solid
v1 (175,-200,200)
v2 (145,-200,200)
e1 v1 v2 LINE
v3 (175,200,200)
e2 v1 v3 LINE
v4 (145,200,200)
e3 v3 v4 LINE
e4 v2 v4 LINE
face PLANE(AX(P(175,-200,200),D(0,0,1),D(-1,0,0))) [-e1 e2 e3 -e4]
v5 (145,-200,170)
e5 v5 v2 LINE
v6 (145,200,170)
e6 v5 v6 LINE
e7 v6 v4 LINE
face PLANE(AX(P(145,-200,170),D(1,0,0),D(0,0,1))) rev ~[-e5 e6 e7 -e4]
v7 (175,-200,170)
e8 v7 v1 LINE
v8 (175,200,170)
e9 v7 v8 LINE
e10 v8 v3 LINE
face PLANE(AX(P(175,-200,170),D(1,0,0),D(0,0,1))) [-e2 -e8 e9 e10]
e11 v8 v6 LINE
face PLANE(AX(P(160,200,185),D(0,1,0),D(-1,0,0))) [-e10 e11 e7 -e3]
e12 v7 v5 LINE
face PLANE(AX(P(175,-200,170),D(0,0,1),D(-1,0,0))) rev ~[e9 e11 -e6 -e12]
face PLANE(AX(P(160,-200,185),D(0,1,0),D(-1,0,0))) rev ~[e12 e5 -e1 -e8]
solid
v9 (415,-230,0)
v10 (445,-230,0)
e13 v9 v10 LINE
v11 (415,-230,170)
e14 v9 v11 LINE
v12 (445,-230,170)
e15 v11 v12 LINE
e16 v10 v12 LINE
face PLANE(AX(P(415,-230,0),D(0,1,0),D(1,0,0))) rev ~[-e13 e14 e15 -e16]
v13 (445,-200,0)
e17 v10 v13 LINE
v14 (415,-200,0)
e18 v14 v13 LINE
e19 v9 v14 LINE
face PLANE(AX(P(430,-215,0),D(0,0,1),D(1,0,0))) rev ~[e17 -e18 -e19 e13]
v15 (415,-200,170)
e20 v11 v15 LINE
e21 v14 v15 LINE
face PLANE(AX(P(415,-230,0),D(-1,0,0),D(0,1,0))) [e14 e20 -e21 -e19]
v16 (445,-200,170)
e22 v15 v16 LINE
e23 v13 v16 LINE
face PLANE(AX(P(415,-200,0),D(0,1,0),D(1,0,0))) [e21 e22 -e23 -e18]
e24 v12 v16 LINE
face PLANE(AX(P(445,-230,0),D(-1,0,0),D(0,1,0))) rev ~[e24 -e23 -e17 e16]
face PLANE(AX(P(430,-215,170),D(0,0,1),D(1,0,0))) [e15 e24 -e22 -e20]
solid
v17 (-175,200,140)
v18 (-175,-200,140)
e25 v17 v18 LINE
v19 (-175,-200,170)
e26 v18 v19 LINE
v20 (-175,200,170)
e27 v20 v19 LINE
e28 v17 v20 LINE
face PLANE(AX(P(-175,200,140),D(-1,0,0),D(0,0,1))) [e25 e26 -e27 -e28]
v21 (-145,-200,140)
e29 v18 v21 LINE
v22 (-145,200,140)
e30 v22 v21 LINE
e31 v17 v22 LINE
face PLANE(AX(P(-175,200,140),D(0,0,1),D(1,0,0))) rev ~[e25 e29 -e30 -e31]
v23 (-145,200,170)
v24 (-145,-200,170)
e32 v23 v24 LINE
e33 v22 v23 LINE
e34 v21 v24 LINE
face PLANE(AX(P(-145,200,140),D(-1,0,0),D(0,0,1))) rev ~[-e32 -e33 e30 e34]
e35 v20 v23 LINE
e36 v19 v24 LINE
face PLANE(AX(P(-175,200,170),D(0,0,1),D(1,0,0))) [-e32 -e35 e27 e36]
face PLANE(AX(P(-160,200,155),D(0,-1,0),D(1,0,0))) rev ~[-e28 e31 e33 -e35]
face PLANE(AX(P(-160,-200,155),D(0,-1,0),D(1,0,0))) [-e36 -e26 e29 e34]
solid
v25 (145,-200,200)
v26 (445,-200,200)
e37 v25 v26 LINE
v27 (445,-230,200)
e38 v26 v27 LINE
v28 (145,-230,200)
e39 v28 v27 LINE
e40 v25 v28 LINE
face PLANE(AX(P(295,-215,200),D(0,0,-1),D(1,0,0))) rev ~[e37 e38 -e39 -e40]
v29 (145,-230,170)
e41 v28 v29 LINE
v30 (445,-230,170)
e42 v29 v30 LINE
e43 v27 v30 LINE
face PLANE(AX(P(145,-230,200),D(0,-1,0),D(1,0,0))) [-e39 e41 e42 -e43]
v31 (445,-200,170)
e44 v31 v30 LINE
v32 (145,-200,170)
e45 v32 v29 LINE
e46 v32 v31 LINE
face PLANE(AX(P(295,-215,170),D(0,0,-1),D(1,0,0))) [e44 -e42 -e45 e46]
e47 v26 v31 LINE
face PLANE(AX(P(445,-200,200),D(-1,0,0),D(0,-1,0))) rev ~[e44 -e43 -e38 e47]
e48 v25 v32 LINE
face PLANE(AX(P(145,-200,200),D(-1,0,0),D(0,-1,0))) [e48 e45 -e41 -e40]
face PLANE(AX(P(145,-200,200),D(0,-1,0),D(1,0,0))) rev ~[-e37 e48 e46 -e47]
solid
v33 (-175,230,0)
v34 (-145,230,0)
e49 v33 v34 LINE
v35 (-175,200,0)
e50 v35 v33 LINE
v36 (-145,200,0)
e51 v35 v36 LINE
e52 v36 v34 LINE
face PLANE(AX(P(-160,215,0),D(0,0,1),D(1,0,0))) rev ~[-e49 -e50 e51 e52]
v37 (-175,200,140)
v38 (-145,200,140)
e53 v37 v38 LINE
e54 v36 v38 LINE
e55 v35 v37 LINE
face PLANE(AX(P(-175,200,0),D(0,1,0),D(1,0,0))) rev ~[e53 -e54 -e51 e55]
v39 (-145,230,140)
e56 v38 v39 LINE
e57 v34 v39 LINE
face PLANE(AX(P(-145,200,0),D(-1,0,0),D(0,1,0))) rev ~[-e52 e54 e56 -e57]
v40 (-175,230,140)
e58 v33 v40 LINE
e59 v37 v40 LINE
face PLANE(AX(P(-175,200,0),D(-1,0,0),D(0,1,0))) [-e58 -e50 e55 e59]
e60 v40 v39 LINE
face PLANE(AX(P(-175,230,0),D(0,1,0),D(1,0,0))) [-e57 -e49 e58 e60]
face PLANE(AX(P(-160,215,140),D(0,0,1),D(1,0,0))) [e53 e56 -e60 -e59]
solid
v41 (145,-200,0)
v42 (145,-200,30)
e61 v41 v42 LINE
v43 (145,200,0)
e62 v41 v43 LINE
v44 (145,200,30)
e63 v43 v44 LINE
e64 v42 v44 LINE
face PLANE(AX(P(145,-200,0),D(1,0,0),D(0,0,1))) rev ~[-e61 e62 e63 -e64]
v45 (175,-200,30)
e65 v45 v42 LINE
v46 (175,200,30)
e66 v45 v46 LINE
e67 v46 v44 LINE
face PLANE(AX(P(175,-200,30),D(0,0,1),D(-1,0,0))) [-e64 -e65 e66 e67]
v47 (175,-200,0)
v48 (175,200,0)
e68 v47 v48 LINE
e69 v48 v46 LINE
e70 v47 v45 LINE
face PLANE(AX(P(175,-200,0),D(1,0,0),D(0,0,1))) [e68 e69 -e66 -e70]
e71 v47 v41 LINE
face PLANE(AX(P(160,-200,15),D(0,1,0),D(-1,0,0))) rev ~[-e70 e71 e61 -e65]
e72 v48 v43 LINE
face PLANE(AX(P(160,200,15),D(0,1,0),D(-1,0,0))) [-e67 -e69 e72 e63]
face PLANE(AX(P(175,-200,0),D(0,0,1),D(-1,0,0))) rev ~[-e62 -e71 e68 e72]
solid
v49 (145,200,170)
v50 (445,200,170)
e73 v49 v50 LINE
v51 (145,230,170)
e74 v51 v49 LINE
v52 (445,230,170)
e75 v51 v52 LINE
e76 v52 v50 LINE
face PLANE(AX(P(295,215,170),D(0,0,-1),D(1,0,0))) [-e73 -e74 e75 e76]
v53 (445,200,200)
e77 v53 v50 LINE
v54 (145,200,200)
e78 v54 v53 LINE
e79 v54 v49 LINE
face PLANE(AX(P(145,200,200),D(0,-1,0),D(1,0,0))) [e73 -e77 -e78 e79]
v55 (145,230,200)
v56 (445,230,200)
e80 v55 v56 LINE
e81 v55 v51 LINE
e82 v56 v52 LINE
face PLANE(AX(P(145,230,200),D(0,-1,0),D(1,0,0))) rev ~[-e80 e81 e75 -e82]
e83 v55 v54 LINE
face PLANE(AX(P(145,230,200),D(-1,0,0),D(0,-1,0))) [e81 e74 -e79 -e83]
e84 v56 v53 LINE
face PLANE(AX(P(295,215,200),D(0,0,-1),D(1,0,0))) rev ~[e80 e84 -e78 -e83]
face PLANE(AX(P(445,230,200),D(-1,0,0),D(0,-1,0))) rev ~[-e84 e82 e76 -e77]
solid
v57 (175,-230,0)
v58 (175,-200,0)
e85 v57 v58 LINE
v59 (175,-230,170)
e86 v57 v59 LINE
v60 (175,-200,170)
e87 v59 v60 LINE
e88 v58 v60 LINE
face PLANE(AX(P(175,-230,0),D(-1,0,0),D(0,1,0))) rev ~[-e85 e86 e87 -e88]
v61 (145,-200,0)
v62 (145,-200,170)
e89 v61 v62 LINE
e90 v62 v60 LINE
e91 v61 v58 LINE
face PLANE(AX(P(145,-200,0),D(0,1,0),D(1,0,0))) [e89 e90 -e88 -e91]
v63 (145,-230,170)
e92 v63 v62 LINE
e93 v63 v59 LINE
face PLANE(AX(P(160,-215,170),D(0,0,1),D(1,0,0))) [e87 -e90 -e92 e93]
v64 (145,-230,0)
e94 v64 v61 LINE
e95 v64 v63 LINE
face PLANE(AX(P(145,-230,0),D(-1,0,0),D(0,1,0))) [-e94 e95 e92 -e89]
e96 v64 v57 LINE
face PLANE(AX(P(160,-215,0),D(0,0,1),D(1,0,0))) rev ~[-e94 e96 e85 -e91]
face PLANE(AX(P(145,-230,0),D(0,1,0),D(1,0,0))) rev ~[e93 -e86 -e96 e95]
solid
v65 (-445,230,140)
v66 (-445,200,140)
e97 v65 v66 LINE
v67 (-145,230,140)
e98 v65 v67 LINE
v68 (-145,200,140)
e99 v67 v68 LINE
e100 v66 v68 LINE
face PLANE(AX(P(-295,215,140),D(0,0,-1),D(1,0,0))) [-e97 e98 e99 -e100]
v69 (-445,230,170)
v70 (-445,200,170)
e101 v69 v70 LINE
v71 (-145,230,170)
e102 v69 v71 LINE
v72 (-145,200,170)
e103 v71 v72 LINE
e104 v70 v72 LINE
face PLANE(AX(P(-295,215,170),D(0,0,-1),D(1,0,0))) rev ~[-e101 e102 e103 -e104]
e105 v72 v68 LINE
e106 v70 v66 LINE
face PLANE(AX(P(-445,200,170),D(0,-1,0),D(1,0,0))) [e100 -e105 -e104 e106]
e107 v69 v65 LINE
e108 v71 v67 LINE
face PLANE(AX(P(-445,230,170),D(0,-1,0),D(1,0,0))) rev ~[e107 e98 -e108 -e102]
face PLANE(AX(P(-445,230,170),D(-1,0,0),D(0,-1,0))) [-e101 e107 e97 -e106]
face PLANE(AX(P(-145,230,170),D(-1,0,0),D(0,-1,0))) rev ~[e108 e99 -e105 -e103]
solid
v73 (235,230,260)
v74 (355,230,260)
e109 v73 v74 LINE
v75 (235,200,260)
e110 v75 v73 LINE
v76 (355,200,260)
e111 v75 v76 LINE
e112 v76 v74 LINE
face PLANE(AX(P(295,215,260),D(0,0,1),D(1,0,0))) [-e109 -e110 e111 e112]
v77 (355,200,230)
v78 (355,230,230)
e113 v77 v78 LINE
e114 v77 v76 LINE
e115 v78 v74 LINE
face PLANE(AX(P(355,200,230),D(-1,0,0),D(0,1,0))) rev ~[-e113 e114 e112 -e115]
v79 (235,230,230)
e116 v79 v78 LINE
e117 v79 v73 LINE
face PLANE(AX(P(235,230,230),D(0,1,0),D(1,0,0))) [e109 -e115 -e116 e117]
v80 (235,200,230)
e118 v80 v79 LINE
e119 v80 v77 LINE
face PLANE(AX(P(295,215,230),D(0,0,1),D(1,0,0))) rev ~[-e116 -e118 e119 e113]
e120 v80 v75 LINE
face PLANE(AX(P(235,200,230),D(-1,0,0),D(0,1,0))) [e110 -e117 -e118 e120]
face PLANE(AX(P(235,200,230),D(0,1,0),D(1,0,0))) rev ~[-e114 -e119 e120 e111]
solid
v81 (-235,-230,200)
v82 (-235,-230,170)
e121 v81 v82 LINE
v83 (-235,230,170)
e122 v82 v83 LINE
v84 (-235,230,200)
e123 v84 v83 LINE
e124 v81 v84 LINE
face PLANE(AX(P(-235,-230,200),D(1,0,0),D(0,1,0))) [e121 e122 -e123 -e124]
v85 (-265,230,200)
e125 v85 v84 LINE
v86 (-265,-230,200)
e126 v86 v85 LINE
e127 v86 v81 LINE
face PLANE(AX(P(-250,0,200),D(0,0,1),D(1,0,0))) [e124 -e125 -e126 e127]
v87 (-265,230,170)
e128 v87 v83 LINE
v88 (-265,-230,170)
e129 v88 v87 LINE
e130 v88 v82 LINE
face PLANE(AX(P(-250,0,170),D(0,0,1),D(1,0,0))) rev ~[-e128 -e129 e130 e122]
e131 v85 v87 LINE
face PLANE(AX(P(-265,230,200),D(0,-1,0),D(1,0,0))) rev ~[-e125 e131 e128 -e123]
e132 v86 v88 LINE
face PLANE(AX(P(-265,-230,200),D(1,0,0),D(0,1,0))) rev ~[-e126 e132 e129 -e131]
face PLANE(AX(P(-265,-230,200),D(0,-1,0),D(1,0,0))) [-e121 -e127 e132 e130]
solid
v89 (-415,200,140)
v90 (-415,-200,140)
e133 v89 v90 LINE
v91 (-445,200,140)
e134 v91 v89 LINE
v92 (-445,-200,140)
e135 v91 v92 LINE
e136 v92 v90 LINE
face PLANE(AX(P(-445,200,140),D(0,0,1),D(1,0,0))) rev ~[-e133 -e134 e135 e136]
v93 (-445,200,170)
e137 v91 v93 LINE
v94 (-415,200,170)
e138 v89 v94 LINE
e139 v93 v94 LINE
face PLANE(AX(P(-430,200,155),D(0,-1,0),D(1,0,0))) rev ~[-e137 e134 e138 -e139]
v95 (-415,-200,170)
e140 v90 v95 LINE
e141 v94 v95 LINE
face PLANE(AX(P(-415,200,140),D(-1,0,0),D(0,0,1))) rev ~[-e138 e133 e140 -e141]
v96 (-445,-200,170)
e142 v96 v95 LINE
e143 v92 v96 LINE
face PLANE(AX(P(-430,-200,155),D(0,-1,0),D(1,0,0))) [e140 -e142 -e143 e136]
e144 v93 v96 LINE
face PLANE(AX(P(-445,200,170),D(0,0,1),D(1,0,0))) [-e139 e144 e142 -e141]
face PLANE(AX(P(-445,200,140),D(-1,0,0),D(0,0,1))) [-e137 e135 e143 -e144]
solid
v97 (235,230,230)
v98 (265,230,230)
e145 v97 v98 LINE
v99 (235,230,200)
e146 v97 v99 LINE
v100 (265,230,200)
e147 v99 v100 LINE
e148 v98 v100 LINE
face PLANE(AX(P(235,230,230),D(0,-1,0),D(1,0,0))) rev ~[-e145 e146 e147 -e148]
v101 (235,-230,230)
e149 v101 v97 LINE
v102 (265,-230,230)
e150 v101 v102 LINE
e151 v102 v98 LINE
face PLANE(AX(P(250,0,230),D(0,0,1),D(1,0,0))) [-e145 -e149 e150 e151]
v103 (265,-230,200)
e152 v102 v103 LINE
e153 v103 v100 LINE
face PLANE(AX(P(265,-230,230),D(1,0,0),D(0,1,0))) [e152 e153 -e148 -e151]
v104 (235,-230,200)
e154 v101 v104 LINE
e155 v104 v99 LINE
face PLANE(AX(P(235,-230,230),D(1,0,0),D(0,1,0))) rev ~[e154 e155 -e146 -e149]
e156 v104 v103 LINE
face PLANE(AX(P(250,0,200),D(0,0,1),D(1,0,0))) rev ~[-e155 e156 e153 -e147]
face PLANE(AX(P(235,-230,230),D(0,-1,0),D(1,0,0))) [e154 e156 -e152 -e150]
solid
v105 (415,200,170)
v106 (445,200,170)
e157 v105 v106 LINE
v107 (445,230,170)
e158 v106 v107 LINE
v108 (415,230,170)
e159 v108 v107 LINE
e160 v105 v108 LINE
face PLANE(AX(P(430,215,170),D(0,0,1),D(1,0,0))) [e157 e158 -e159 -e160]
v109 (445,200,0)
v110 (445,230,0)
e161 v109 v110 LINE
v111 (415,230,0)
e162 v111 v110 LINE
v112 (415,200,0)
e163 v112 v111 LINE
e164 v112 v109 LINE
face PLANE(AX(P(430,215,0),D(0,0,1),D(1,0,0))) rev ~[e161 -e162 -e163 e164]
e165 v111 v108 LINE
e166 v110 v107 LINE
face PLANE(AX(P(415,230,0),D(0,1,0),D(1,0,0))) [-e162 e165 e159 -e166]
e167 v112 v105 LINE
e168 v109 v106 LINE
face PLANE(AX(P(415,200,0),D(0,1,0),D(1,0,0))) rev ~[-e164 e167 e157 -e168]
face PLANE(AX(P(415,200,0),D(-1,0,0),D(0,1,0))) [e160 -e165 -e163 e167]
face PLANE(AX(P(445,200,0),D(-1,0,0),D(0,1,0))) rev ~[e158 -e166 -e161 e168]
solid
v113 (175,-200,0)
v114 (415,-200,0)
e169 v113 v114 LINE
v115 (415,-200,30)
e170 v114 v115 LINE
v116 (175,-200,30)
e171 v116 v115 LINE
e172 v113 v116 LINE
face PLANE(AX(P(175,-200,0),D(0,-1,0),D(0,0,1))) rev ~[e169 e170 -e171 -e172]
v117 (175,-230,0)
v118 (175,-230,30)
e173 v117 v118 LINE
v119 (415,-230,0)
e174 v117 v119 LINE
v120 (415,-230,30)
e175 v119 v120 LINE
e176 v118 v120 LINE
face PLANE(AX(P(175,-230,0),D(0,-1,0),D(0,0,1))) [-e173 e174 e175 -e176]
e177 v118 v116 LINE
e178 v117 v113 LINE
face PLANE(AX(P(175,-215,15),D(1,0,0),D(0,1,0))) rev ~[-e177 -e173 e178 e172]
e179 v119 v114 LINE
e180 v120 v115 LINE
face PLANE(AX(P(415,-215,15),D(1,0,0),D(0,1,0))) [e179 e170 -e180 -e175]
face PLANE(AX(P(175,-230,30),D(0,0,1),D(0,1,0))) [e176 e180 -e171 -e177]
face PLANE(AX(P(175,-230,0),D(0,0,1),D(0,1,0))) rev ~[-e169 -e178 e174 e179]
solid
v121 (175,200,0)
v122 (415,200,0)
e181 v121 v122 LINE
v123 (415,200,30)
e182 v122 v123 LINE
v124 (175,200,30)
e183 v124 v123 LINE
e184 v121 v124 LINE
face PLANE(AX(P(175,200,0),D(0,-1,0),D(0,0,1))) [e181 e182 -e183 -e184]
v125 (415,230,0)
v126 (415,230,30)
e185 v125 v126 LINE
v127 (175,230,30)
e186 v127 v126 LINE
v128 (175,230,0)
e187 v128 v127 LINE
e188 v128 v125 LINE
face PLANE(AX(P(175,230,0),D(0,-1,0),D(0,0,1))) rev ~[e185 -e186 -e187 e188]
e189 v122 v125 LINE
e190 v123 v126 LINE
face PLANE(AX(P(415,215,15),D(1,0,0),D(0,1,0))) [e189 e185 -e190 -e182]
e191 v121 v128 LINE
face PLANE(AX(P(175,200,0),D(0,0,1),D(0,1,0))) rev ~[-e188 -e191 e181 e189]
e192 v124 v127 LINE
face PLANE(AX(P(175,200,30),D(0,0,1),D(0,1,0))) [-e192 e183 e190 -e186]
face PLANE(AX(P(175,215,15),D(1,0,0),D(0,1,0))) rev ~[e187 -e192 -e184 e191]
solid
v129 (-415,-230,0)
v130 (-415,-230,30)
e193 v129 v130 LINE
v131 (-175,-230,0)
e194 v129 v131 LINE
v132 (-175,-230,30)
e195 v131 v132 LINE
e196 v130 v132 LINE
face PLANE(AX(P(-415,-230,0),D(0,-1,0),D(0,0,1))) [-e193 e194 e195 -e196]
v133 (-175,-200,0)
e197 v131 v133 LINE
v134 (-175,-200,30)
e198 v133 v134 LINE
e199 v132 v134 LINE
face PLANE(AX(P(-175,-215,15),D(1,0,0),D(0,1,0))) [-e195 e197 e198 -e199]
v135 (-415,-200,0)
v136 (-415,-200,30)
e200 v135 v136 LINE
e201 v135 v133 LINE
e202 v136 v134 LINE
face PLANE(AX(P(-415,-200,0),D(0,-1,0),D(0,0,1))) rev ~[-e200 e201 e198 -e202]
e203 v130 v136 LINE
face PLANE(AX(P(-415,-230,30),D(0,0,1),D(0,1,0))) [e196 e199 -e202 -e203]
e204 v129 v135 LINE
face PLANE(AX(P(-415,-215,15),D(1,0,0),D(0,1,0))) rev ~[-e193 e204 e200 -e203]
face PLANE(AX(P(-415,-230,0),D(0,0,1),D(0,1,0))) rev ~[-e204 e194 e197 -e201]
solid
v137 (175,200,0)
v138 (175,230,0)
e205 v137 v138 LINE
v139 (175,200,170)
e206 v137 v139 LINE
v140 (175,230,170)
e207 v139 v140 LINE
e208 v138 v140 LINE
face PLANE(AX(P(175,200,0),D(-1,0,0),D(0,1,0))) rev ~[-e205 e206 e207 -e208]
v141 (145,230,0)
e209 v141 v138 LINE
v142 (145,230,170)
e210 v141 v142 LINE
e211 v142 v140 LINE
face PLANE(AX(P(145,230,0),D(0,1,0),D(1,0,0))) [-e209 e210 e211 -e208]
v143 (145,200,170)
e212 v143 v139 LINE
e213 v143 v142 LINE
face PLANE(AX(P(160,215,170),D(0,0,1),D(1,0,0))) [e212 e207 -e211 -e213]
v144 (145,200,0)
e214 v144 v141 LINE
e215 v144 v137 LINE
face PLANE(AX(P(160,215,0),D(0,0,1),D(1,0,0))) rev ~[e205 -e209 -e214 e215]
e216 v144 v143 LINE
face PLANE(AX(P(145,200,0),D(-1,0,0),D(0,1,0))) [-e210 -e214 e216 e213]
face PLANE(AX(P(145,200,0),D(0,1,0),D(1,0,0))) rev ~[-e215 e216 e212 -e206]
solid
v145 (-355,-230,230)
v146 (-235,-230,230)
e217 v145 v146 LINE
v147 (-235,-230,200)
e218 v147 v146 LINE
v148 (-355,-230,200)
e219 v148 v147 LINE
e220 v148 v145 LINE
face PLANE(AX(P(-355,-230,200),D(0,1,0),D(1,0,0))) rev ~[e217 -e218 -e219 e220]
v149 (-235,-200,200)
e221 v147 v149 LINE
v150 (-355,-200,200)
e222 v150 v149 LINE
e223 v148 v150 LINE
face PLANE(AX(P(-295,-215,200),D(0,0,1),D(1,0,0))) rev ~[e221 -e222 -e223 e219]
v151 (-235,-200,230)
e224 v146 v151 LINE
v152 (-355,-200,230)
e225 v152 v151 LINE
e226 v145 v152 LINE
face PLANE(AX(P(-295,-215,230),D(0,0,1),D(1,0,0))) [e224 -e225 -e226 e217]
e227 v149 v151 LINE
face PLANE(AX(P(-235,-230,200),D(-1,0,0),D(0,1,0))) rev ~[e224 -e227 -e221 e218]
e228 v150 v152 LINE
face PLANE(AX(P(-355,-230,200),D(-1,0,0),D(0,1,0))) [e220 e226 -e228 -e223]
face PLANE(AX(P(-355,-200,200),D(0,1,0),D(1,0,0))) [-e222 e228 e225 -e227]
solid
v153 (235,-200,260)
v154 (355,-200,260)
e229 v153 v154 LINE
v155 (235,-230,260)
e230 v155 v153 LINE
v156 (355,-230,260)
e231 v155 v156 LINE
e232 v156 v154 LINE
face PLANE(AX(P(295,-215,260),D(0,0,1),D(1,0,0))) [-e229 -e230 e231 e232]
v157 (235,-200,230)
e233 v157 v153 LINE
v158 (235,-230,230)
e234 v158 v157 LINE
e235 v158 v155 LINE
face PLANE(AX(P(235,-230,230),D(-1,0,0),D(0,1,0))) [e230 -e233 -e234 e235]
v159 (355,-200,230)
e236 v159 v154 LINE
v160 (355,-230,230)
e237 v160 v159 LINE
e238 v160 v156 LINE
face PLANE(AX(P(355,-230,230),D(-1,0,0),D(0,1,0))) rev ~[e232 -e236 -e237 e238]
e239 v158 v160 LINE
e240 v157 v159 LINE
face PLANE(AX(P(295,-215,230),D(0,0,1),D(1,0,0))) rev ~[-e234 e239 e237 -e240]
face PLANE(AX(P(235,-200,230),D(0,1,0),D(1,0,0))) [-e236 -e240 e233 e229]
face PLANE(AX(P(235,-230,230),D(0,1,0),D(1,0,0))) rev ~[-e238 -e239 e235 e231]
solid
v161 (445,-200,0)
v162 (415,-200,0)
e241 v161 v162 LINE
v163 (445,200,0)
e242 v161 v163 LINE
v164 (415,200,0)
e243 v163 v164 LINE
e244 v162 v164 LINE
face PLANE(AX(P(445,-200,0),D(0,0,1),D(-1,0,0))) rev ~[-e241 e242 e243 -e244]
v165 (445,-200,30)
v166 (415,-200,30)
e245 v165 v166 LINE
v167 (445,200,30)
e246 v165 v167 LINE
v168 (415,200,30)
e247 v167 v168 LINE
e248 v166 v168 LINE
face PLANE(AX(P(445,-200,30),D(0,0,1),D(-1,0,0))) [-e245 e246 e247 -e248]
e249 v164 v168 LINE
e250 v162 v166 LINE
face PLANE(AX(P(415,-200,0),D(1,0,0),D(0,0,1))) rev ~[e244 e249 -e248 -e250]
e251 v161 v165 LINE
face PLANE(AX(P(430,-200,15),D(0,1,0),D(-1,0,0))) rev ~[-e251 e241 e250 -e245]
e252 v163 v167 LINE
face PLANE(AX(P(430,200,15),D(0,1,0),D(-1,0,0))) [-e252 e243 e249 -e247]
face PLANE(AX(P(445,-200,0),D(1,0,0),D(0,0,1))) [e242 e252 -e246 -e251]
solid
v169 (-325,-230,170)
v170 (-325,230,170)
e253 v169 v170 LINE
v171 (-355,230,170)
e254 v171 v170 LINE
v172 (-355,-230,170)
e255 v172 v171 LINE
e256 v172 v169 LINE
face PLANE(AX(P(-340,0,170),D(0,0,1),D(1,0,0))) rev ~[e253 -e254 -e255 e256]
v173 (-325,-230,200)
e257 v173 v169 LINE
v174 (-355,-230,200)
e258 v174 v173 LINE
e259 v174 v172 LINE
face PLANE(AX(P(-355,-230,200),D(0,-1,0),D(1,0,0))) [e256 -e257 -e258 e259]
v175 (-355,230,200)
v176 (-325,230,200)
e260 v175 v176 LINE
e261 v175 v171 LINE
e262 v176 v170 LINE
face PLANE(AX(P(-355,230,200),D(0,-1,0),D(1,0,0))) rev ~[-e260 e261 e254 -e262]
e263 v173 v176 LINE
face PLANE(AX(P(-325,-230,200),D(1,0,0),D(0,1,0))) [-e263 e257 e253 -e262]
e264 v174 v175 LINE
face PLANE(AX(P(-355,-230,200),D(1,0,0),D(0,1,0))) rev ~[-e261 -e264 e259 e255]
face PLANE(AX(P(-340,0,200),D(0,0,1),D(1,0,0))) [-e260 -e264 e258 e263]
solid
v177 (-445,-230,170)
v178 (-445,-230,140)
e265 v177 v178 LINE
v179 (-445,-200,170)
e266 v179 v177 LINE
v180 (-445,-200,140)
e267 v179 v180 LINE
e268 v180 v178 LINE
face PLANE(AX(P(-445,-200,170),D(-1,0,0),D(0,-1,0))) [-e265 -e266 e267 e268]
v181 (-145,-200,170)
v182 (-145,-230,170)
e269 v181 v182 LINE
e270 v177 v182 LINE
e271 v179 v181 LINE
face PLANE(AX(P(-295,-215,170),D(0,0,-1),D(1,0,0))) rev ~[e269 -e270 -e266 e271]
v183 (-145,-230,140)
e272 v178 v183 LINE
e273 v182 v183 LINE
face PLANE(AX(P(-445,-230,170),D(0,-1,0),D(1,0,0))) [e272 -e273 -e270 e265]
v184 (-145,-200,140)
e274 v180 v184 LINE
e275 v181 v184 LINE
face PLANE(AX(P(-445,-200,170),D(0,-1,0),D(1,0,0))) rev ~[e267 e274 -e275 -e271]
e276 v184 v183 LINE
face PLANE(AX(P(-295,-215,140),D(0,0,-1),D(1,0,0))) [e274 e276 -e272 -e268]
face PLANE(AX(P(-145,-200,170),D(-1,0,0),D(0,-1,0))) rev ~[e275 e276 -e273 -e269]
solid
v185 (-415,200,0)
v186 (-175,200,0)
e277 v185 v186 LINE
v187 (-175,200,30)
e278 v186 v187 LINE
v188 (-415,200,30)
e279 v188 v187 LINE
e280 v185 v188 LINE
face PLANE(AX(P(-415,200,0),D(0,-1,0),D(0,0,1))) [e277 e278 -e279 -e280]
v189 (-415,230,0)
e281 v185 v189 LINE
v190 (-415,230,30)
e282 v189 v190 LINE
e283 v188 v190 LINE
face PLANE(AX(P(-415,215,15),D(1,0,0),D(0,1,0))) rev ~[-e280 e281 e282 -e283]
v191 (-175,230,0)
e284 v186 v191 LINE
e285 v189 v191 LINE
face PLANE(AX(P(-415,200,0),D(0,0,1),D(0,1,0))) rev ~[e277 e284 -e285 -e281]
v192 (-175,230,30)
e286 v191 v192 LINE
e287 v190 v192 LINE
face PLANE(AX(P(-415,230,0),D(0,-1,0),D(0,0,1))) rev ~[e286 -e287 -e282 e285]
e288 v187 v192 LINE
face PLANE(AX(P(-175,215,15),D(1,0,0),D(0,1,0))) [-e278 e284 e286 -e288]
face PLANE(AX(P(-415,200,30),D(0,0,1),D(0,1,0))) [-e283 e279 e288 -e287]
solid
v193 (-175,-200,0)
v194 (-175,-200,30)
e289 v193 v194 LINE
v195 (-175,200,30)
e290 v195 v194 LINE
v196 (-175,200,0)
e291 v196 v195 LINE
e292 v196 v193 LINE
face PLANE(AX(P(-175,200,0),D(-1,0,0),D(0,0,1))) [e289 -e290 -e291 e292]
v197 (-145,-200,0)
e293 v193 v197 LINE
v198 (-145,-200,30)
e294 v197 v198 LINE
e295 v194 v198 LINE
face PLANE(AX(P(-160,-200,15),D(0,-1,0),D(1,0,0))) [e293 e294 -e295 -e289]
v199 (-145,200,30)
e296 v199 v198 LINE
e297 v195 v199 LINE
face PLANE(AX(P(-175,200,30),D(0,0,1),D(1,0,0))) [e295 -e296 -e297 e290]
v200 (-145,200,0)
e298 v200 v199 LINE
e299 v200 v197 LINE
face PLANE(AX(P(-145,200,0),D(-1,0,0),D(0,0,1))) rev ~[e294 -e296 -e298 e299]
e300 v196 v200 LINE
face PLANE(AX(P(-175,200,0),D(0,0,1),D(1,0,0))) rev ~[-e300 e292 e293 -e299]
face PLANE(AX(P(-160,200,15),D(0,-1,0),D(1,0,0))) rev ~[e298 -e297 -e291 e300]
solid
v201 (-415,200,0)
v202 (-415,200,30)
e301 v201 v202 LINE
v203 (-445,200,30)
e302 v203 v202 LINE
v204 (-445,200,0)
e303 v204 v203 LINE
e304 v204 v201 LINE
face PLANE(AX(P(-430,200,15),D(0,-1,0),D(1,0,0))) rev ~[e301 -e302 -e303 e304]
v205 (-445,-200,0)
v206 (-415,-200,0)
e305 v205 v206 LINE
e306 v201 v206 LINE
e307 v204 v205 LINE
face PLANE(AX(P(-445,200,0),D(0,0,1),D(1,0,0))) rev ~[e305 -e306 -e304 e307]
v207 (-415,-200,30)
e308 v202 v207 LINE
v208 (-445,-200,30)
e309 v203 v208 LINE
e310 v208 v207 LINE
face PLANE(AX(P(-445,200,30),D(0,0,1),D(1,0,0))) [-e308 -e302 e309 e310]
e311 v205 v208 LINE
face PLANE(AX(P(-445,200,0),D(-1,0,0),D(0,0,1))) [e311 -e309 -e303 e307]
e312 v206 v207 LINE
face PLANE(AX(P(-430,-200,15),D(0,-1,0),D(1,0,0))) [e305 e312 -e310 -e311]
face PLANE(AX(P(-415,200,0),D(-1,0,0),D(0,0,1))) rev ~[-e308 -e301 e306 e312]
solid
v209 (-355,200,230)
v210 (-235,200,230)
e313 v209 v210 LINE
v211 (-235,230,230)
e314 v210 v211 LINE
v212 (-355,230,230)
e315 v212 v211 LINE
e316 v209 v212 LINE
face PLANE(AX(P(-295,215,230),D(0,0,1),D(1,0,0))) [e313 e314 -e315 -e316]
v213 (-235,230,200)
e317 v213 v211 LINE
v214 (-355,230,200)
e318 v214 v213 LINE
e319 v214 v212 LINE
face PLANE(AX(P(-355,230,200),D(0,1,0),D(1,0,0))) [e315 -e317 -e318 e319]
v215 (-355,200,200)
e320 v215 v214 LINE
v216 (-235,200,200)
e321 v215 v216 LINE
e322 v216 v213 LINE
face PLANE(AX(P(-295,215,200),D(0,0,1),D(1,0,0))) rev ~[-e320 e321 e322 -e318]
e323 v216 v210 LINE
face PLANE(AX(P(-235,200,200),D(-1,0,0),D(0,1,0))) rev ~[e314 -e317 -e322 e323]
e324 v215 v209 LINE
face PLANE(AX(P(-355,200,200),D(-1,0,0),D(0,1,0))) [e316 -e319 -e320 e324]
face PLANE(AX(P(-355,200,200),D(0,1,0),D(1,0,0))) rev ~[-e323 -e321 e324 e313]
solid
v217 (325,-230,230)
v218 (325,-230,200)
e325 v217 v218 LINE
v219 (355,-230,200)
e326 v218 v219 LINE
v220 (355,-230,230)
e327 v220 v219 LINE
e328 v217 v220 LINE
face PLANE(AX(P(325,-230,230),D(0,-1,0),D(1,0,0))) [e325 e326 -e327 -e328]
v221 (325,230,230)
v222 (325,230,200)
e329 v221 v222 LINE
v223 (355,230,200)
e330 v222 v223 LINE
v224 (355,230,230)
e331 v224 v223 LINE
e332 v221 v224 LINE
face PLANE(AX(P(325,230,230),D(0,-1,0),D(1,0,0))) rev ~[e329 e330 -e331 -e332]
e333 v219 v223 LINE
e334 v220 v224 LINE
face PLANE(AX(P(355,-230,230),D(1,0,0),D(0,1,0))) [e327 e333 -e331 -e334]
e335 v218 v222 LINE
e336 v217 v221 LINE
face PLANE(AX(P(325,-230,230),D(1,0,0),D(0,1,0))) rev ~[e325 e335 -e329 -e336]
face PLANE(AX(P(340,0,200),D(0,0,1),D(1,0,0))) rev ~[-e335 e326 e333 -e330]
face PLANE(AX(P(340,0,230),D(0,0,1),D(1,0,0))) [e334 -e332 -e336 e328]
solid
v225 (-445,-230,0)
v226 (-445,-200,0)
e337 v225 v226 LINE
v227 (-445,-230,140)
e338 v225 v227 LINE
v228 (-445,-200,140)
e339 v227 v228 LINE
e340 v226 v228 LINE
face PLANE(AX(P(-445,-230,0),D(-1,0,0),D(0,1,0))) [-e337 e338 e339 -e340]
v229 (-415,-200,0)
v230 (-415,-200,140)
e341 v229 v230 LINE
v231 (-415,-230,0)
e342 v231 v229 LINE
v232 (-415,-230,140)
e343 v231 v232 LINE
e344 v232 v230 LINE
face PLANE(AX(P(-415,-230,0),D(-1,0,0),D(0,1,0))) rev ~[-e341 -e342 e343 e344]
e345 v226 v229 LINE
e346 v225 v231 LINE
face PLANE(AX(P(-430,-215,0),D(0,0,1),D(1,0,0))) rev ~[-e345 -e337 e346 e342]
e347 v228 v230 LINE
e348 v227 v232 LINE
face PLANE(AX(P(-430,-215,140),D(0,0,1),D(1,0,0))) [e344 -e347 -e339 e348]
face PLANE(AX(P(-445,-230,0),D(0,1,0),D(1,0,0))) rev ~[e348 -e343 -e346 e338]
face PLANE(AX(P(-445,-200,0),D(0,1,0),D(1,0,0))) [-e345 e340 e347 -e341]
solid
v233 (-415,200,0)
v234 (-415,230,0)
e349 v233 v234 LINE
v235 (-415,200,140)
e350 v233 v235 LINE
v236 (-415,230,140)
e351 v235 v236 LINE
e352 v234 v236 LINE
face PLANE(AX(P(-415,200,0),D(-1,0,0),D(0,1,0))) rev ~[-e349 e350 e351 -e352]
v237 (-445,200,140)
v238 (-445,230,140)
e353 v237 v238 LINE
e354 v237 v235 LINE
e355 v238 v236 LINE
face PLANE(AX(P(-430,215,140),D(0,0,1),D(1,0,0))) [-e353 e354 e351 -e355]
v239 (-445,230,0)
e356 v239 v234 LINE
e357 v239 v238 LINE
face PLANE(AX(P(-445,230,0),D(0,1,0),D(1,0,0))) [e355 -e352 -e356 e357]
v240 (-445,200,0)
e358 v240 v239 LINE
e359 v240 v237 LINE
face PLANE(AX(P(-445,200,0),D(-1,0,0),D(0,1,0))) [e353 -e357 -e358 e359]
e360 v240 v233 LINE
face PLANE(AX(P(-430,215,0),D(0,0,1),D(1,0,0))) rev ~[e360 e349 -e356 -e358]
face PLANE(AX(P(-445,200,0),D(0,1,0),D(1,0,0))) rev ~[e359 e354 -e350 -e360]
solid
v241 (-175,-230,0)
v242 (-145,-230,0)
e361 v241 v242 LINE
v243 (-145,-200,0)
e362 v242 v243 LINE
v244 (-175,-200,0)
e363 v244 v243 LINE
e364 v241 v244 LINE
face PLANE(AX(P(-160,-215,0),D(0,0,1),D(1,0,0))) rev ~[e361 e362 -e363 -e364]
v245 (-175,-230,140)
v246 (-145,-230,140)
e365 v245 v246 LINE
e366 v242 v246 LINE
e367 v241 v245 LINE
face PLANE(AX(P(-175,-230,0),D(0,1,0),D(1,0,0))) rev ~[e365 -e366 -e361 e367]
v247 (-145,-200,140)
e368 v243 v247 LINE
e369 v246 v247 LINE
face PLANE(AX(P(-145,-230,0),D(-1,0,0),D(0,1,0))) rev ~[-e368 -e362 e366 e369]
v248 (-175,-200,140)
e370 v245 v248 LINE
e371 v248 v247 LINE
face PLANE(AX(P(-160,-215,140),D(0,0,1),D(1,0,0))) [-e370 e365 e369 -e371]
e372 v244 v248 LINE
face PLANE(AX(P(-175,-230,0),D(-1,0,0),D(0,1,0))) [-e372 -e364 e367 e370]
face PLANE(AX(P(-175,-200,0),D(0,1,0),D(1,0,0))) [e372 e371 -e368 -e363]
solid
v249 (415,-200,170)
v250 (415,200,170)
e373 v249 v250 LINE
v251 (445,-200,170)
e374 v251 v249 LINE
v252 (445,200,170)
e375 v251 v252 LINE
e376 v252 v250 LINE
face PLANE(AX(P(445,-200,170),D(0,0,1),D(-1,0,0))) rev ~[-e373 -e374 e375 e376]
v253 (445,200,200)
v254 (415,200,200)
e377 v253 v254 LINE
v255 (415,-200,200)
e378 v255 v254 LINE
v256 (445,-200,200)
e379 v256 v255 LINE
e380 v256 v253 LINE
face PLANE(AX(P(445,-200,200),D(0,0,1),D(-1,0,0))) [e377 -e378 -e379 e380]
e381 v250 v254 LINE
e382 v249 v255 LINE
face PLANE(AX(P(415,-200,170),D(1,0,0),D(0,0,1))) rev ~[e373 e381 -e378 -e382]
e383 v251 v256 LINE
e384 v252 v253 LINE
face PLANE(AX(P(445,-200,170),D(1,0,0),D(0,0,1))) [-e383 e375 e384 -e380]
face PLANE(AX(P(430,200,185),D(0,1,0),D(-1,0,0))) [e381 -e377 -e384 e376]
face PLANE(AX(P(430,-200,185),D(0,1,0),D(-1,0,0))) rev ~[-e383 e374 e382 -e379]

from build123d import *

# Parameters (mm, degrees)
F1_W      = 30
F1_H      = 460
F2_DEPTH  = 30
F4_W      = 300
F4_H      = 30
F5_DEPTH  = 30
F6_W      = 30
F6_H      = 30
F7_DEPTH  = 140
F8_W      = 30
F8_H      = 30
F9_DEPTH  = 240
F10_W     = 30
F10_H     = 30
F11_DEPTH = 400
F12_W     = 120
F12_H     = 30
F13_DEPTH = 30
F14_W     = 300
F14_H     = 30
F15_DEPTH = 30
F16_W     = 30
F16_H     = 30
F17_DEPTH = 170
F18_W     = 30
F18_H     = 30
F19_DEPTH = 240
F20_W     = 30
F20_H     = 30
F21_DEPTH = 400
F22_W     = 120
F22_H     = 30
F23_DEPTH = 30


with BuildPart() as f2:
    # F1 (on offset) → F2 (new body)
    with BuildSketch(Plane.XY.offset(200)):
        with Locations((-250, 0)):
            Rectangle(F1_W, F1_H)
    extrude(amount=-F2_DEPTH)


with BuildPart() as f2b:
    # F1 (on offset) → F2, piece 2 (new body)
    with BuildSketch(Plane.XY.offset(200)):
        with Locations((-340, 0)):
            Rectangle(F1_W, F1_H)
    extrude(amount=-F2_DEPTH)


with BuildPart() as f2c:
    # F1 (on offset) → F2, piece 3 (new body)
    with BuildSketch(Plane.XY.offset(200)):
        with Locations((250, 0)):
            Rectangle(F1_W, F1_H)
    extrude(amount=-F2_DEPTH)


with BuildPart() as f2d:
    # F1 (on offset) → F2, piece 4 (new body)
    with BuildSketch(Plane.XY.offset(200)):
        with Locations((340, 0)):
            Rectangle(F1_W, F1_H)
    extrude(amount=-F2_DEPTH)


with BuildPart() as f2c_1:
    # F3: moved
    add(f2c.part.moved(Location((0, 0, 30))))


with BuildPart() as f2d_1:
    # F3: moved
    add(f2d.part.moved(Location((0, 0, 30))))


with BuildPart() as f5:
    # F4 (on face) → F5 (new body)
    with BuildSketch(Plane(origin=(0, 0, 170), x_dir=(1, 0, 0), z_dir=(0, 0, -1))):
        with Locations((-295, 215)):
            Rectangle(F4_W, F4_H)
    extrude(amount=F5_DEPTH)


with BuildPart() as f5b:
    # F4 (on face) → F5, piece 2 (new body)
    with BuildSketch(Plane(origin=(0, 0, 170), x_dir=(1, 0, 0), z_dir=(0, 0, -1))):
        with Locations((-295, -215)):
            Rectangle(F4_W, F4_H)
    extrude(amount=F5_DEPTH)


with BuildPart() as f7:
    # F6 (on Top) → F7 (new body, through all)
    with BuildSketch(Plane.XY):
        with Locations((-160, -215)):
            Rectangle(F6_W, F6_H)
    extrude(amount=F7_DEPTH)


with BuildPart() as f7b:
    # F6 (on Top) → F7, piece 2 (new body, through all)
    with BuildSketch(Plane.XY):
        with Locations((-160, 215)):
            Rectangle(F6_W, F6_H)
    extrude(amount=F7_DEPTH)


with BuildPart() as f7c:
    # F6 (on Top) → F7, piece 3 (new body, through all)
    with BuildSketch(Plane.XY):
        with Locations((-430, -215)):
            Rectangle(F6_W, F6_H)
    extrude(amount=F7_DEPTH)


with BuildPart() as f7d:
    # F6 (on Top) → F7, piece 4 (new body, through all)
    with BuildSketch(Plane.XY):
        with Locations((-430, 215)):
            Rectangle(F6_W, F6_H)
    extrude(amount=F7_DEPTH)


with BuildPart() as f9:
    # F8 (on face) → F9 (new body, through all)
    with BuildSketch(Plane.YZ.offset(-415)):
        with Locations((-215, 15)):
            Rectangle(F8_W, F8_H)
    extrude(amount=F9_DEPTH)


with BuildPart() as f9b:
    # F8 (on face) → F9, piece 2 (new body, through all)
    with BuildSketch(Plane.YZ.offset(-415)):
        with Locations((215, 15)):
            Rectangle(F8_W, F8_H)
    extrude(amount=F9_DEPTH)


with BuildPart() as f11:
    # F10 (on face) → F11 (new body, through all)
    with BuildSketch(Plane.XZ.offset(-200)):
        with Locations((-430, 15)):
            Rectangle(F10_W, F10_H)
    extrude(amount=F11_DEPTH)


with BuildPart() as f11b:
    # F10 (on face) → F11, piece 2 (new body, through all)
    with BuildSketch(Plane.XZ.offset(-200)):
        with Locations((-160, 15)):
            Rectangle(F10_W, F10_H)
    extrude(amount=F11_DEPTH)


with BuildPart() as f11c:
    # F10 (on face) → F11, piece 3 (new body, through all)
    with BuildSketch(Plane.XZ.offset(-200)):
        with Locations((-430, 155)):
            Rectangle(F10_W, F10_H)
    extrude(amount=F11_DEPTH)


with BuildPart() as f11d:
    # F10 (on face) → F11, piece 4 (new body, through all)
    with BuildSketch(Plane.XZ.offset(-200)):
        with Locations((-160, 155)):
            Rectangle(F10_W, F10_H)
    extrude(amount=F11_DEPTH)


with BuildPart() as f13:
    # F12 (on face) → F13 (new body)
    with BuildSketch(Plane.XY.offset(200)):
        with Locations((-295, -215)):
            Rectangle(F12_W, F12_H)
    extrude(amount=F13_DEPTH)


with BuildPart() as f13b:
    # F12 (on face) → F13, piece 2 (new body)
    with BuildSketch(Plane.XY.offset(200)):
        with Locations((-295, 215)):
            Rectangle(F12_W, F12_H)
    extrude(amount=F13_DEPTH)


with BuildPart() as f15:
    # F14 (on face) → F15 (new body)
    with BuildSketch(Plane(origin=(0, 0, 200), x_dir=(1, 0, 0), z_dir=(0, 0, -1))):
        with Locations((295, 215)):
            Rectangle(F14_W, F14_H)
    extrude(amount=F15_DEPTH)


with BuildPart() as f15b:
    # F14 (on face) → F15, piece 2 (new body)
    with BuildSketch(Plane(origin=(0, 0, 200), x_dir=(1, 0, 0), z_dir=(0, 0, -1))):
        with Locations((295, -215)):
            Rectangle(F14_W, F14_H)
    extrude(amount=F15_DEPTH)


with BuildPart() as f17:
    # F16 (on Top) → F17 (new body, through all)
    with BuildSketch(Plane.XY):
        with Locations((160, -215)):
            Rectangle(F16_W, F16_H)
    extrude(amount=F17_DEPTH)


with BuildPart() as f17b:
    # F16 (on Top) → F17, piece 2 (new body, through all)
    with BuildSketch(Plane.XY):
        with Locations((430, -215)):
            Rectangle(F16_W, F16_H)
    extrude(amount=F17_DEPTH)


with BuildPart() as f17c:
    # F16 (on Top) → F17, piece 3 (new body, through all)
    with BuildSketch(Plane.XY):
        with Locations((430, 215)):
            Rectangle(F16_W, F16_H)
    extrude(amount=F17_DEPTH)


with BuildPart() as f17d:
    # F16 (on Top) → F17, piece 4 (new body, through all)
    with BuildSketch(Plane.XY):
        with Locations((160, 215)):
            Rectangle(F16_W, F16_H)
    extrude(amount=F17_DEPTH)


with BuildPart() as f19:
    # F18 (on face) → F19 (new body, through all)
    with BuildSketch(Plane.YZ.offset(175)):
        with Locations((-215, 15)):
            Rectangle(F18_W, F18_H)
    extrude(amount=F19_DEPTH)


with BuildPart() as f19b:
    # F18 (on face) → F19, piece 2 (new body, through all)
    with BuildSketch(Plane.YZ.offset(175)):
        with Locations((215, 15)):
            Rectangle(F18_W, F18_H)
    extrude(amount=F19_DEPTH)


with BuildPart() as f21:
    # F20 (on face) → F21 (new body, through all)
    with BuildSketch(Plane(origin=(0, -200, 0), x_dir=(-1, 0, 0), z_dir=(0, 1, 0))):
        with Locations((-160, 15)):
            Rectangle(F20_W, F20_H)
    extrude(amount=F21_DEPTH)


with BuildPart() as f21b:
    # F20 (on face) → F21, piece 2 (new body, through all)
    with BuildSketch(Plane(origin=(0, -200, 0), x_dir=(-1, 0, 0), z_dir=(0, 1, 0))):
        with Locations((-430, 15)):
            Rectangle(F20_W, F20_H)
    extrude(amount=F21_DEPTH)


with BuildPart() as f21c:
    # F20 (on face) → F21, piece 3 (new body, through all)
    with BuildSketch(Plane(origin=(0, -200, 0), x_dir=(-1, 0, 0), z_dir=(0, 1, 0))):
        with Locations((-430, 185)):
            Rectangle(F20_W, F20_H)
    extrude(amount=F21_DEPTH)


with BuildPart() as f21d:
    # F20 (on face) → F21, piece 4 (new body, through all)
    with BuildSketch(Plane(origin=(0, -200, 0), x_dir=(-1, 0, 0), z_dir=(0, 1, 0))):
        with Locations((-160, 185)):
            Rectangle(F20_W, F20_H)
    extrude(amount=F21_DEPTH)


with BuildPart() as f23:
    # F22 (on face) → F23 (new body)
    with BuildSketch(Plane.XY.offset(230)):
        with Locations((295, 215)):
            Rectangle(F22_W, F22_H)
    extrude(amount=F23_DEPTH)


with BuildPart() as f23b:
    # F22 (on face) → F23, piece 2 (new body)
    with BuildSketch(Plane.XY.offset(230)):
        with Locations((295, -215)):
            Rectangle(F22_W, F22_H)
    extrude(amount=F23_DEPTH)


solid = Compound([f2.part, f2b.part, f2c_1.part, f2d_1.part, f5.part, f5b.part, f7.part, f7b.part, f7c.part, f7d.part, f9.part, f9b.part, f11.part, f11b.part, f11c.part, f11d.part, f13.part, f13b.part, f15.part, f15b.part, f17.part, f17b.part, f17c.part, f17d.part, f19.part, f19b.part, f21.part, f21b.part, f21c.part, f21d.part, f23.part, f23b.part])
